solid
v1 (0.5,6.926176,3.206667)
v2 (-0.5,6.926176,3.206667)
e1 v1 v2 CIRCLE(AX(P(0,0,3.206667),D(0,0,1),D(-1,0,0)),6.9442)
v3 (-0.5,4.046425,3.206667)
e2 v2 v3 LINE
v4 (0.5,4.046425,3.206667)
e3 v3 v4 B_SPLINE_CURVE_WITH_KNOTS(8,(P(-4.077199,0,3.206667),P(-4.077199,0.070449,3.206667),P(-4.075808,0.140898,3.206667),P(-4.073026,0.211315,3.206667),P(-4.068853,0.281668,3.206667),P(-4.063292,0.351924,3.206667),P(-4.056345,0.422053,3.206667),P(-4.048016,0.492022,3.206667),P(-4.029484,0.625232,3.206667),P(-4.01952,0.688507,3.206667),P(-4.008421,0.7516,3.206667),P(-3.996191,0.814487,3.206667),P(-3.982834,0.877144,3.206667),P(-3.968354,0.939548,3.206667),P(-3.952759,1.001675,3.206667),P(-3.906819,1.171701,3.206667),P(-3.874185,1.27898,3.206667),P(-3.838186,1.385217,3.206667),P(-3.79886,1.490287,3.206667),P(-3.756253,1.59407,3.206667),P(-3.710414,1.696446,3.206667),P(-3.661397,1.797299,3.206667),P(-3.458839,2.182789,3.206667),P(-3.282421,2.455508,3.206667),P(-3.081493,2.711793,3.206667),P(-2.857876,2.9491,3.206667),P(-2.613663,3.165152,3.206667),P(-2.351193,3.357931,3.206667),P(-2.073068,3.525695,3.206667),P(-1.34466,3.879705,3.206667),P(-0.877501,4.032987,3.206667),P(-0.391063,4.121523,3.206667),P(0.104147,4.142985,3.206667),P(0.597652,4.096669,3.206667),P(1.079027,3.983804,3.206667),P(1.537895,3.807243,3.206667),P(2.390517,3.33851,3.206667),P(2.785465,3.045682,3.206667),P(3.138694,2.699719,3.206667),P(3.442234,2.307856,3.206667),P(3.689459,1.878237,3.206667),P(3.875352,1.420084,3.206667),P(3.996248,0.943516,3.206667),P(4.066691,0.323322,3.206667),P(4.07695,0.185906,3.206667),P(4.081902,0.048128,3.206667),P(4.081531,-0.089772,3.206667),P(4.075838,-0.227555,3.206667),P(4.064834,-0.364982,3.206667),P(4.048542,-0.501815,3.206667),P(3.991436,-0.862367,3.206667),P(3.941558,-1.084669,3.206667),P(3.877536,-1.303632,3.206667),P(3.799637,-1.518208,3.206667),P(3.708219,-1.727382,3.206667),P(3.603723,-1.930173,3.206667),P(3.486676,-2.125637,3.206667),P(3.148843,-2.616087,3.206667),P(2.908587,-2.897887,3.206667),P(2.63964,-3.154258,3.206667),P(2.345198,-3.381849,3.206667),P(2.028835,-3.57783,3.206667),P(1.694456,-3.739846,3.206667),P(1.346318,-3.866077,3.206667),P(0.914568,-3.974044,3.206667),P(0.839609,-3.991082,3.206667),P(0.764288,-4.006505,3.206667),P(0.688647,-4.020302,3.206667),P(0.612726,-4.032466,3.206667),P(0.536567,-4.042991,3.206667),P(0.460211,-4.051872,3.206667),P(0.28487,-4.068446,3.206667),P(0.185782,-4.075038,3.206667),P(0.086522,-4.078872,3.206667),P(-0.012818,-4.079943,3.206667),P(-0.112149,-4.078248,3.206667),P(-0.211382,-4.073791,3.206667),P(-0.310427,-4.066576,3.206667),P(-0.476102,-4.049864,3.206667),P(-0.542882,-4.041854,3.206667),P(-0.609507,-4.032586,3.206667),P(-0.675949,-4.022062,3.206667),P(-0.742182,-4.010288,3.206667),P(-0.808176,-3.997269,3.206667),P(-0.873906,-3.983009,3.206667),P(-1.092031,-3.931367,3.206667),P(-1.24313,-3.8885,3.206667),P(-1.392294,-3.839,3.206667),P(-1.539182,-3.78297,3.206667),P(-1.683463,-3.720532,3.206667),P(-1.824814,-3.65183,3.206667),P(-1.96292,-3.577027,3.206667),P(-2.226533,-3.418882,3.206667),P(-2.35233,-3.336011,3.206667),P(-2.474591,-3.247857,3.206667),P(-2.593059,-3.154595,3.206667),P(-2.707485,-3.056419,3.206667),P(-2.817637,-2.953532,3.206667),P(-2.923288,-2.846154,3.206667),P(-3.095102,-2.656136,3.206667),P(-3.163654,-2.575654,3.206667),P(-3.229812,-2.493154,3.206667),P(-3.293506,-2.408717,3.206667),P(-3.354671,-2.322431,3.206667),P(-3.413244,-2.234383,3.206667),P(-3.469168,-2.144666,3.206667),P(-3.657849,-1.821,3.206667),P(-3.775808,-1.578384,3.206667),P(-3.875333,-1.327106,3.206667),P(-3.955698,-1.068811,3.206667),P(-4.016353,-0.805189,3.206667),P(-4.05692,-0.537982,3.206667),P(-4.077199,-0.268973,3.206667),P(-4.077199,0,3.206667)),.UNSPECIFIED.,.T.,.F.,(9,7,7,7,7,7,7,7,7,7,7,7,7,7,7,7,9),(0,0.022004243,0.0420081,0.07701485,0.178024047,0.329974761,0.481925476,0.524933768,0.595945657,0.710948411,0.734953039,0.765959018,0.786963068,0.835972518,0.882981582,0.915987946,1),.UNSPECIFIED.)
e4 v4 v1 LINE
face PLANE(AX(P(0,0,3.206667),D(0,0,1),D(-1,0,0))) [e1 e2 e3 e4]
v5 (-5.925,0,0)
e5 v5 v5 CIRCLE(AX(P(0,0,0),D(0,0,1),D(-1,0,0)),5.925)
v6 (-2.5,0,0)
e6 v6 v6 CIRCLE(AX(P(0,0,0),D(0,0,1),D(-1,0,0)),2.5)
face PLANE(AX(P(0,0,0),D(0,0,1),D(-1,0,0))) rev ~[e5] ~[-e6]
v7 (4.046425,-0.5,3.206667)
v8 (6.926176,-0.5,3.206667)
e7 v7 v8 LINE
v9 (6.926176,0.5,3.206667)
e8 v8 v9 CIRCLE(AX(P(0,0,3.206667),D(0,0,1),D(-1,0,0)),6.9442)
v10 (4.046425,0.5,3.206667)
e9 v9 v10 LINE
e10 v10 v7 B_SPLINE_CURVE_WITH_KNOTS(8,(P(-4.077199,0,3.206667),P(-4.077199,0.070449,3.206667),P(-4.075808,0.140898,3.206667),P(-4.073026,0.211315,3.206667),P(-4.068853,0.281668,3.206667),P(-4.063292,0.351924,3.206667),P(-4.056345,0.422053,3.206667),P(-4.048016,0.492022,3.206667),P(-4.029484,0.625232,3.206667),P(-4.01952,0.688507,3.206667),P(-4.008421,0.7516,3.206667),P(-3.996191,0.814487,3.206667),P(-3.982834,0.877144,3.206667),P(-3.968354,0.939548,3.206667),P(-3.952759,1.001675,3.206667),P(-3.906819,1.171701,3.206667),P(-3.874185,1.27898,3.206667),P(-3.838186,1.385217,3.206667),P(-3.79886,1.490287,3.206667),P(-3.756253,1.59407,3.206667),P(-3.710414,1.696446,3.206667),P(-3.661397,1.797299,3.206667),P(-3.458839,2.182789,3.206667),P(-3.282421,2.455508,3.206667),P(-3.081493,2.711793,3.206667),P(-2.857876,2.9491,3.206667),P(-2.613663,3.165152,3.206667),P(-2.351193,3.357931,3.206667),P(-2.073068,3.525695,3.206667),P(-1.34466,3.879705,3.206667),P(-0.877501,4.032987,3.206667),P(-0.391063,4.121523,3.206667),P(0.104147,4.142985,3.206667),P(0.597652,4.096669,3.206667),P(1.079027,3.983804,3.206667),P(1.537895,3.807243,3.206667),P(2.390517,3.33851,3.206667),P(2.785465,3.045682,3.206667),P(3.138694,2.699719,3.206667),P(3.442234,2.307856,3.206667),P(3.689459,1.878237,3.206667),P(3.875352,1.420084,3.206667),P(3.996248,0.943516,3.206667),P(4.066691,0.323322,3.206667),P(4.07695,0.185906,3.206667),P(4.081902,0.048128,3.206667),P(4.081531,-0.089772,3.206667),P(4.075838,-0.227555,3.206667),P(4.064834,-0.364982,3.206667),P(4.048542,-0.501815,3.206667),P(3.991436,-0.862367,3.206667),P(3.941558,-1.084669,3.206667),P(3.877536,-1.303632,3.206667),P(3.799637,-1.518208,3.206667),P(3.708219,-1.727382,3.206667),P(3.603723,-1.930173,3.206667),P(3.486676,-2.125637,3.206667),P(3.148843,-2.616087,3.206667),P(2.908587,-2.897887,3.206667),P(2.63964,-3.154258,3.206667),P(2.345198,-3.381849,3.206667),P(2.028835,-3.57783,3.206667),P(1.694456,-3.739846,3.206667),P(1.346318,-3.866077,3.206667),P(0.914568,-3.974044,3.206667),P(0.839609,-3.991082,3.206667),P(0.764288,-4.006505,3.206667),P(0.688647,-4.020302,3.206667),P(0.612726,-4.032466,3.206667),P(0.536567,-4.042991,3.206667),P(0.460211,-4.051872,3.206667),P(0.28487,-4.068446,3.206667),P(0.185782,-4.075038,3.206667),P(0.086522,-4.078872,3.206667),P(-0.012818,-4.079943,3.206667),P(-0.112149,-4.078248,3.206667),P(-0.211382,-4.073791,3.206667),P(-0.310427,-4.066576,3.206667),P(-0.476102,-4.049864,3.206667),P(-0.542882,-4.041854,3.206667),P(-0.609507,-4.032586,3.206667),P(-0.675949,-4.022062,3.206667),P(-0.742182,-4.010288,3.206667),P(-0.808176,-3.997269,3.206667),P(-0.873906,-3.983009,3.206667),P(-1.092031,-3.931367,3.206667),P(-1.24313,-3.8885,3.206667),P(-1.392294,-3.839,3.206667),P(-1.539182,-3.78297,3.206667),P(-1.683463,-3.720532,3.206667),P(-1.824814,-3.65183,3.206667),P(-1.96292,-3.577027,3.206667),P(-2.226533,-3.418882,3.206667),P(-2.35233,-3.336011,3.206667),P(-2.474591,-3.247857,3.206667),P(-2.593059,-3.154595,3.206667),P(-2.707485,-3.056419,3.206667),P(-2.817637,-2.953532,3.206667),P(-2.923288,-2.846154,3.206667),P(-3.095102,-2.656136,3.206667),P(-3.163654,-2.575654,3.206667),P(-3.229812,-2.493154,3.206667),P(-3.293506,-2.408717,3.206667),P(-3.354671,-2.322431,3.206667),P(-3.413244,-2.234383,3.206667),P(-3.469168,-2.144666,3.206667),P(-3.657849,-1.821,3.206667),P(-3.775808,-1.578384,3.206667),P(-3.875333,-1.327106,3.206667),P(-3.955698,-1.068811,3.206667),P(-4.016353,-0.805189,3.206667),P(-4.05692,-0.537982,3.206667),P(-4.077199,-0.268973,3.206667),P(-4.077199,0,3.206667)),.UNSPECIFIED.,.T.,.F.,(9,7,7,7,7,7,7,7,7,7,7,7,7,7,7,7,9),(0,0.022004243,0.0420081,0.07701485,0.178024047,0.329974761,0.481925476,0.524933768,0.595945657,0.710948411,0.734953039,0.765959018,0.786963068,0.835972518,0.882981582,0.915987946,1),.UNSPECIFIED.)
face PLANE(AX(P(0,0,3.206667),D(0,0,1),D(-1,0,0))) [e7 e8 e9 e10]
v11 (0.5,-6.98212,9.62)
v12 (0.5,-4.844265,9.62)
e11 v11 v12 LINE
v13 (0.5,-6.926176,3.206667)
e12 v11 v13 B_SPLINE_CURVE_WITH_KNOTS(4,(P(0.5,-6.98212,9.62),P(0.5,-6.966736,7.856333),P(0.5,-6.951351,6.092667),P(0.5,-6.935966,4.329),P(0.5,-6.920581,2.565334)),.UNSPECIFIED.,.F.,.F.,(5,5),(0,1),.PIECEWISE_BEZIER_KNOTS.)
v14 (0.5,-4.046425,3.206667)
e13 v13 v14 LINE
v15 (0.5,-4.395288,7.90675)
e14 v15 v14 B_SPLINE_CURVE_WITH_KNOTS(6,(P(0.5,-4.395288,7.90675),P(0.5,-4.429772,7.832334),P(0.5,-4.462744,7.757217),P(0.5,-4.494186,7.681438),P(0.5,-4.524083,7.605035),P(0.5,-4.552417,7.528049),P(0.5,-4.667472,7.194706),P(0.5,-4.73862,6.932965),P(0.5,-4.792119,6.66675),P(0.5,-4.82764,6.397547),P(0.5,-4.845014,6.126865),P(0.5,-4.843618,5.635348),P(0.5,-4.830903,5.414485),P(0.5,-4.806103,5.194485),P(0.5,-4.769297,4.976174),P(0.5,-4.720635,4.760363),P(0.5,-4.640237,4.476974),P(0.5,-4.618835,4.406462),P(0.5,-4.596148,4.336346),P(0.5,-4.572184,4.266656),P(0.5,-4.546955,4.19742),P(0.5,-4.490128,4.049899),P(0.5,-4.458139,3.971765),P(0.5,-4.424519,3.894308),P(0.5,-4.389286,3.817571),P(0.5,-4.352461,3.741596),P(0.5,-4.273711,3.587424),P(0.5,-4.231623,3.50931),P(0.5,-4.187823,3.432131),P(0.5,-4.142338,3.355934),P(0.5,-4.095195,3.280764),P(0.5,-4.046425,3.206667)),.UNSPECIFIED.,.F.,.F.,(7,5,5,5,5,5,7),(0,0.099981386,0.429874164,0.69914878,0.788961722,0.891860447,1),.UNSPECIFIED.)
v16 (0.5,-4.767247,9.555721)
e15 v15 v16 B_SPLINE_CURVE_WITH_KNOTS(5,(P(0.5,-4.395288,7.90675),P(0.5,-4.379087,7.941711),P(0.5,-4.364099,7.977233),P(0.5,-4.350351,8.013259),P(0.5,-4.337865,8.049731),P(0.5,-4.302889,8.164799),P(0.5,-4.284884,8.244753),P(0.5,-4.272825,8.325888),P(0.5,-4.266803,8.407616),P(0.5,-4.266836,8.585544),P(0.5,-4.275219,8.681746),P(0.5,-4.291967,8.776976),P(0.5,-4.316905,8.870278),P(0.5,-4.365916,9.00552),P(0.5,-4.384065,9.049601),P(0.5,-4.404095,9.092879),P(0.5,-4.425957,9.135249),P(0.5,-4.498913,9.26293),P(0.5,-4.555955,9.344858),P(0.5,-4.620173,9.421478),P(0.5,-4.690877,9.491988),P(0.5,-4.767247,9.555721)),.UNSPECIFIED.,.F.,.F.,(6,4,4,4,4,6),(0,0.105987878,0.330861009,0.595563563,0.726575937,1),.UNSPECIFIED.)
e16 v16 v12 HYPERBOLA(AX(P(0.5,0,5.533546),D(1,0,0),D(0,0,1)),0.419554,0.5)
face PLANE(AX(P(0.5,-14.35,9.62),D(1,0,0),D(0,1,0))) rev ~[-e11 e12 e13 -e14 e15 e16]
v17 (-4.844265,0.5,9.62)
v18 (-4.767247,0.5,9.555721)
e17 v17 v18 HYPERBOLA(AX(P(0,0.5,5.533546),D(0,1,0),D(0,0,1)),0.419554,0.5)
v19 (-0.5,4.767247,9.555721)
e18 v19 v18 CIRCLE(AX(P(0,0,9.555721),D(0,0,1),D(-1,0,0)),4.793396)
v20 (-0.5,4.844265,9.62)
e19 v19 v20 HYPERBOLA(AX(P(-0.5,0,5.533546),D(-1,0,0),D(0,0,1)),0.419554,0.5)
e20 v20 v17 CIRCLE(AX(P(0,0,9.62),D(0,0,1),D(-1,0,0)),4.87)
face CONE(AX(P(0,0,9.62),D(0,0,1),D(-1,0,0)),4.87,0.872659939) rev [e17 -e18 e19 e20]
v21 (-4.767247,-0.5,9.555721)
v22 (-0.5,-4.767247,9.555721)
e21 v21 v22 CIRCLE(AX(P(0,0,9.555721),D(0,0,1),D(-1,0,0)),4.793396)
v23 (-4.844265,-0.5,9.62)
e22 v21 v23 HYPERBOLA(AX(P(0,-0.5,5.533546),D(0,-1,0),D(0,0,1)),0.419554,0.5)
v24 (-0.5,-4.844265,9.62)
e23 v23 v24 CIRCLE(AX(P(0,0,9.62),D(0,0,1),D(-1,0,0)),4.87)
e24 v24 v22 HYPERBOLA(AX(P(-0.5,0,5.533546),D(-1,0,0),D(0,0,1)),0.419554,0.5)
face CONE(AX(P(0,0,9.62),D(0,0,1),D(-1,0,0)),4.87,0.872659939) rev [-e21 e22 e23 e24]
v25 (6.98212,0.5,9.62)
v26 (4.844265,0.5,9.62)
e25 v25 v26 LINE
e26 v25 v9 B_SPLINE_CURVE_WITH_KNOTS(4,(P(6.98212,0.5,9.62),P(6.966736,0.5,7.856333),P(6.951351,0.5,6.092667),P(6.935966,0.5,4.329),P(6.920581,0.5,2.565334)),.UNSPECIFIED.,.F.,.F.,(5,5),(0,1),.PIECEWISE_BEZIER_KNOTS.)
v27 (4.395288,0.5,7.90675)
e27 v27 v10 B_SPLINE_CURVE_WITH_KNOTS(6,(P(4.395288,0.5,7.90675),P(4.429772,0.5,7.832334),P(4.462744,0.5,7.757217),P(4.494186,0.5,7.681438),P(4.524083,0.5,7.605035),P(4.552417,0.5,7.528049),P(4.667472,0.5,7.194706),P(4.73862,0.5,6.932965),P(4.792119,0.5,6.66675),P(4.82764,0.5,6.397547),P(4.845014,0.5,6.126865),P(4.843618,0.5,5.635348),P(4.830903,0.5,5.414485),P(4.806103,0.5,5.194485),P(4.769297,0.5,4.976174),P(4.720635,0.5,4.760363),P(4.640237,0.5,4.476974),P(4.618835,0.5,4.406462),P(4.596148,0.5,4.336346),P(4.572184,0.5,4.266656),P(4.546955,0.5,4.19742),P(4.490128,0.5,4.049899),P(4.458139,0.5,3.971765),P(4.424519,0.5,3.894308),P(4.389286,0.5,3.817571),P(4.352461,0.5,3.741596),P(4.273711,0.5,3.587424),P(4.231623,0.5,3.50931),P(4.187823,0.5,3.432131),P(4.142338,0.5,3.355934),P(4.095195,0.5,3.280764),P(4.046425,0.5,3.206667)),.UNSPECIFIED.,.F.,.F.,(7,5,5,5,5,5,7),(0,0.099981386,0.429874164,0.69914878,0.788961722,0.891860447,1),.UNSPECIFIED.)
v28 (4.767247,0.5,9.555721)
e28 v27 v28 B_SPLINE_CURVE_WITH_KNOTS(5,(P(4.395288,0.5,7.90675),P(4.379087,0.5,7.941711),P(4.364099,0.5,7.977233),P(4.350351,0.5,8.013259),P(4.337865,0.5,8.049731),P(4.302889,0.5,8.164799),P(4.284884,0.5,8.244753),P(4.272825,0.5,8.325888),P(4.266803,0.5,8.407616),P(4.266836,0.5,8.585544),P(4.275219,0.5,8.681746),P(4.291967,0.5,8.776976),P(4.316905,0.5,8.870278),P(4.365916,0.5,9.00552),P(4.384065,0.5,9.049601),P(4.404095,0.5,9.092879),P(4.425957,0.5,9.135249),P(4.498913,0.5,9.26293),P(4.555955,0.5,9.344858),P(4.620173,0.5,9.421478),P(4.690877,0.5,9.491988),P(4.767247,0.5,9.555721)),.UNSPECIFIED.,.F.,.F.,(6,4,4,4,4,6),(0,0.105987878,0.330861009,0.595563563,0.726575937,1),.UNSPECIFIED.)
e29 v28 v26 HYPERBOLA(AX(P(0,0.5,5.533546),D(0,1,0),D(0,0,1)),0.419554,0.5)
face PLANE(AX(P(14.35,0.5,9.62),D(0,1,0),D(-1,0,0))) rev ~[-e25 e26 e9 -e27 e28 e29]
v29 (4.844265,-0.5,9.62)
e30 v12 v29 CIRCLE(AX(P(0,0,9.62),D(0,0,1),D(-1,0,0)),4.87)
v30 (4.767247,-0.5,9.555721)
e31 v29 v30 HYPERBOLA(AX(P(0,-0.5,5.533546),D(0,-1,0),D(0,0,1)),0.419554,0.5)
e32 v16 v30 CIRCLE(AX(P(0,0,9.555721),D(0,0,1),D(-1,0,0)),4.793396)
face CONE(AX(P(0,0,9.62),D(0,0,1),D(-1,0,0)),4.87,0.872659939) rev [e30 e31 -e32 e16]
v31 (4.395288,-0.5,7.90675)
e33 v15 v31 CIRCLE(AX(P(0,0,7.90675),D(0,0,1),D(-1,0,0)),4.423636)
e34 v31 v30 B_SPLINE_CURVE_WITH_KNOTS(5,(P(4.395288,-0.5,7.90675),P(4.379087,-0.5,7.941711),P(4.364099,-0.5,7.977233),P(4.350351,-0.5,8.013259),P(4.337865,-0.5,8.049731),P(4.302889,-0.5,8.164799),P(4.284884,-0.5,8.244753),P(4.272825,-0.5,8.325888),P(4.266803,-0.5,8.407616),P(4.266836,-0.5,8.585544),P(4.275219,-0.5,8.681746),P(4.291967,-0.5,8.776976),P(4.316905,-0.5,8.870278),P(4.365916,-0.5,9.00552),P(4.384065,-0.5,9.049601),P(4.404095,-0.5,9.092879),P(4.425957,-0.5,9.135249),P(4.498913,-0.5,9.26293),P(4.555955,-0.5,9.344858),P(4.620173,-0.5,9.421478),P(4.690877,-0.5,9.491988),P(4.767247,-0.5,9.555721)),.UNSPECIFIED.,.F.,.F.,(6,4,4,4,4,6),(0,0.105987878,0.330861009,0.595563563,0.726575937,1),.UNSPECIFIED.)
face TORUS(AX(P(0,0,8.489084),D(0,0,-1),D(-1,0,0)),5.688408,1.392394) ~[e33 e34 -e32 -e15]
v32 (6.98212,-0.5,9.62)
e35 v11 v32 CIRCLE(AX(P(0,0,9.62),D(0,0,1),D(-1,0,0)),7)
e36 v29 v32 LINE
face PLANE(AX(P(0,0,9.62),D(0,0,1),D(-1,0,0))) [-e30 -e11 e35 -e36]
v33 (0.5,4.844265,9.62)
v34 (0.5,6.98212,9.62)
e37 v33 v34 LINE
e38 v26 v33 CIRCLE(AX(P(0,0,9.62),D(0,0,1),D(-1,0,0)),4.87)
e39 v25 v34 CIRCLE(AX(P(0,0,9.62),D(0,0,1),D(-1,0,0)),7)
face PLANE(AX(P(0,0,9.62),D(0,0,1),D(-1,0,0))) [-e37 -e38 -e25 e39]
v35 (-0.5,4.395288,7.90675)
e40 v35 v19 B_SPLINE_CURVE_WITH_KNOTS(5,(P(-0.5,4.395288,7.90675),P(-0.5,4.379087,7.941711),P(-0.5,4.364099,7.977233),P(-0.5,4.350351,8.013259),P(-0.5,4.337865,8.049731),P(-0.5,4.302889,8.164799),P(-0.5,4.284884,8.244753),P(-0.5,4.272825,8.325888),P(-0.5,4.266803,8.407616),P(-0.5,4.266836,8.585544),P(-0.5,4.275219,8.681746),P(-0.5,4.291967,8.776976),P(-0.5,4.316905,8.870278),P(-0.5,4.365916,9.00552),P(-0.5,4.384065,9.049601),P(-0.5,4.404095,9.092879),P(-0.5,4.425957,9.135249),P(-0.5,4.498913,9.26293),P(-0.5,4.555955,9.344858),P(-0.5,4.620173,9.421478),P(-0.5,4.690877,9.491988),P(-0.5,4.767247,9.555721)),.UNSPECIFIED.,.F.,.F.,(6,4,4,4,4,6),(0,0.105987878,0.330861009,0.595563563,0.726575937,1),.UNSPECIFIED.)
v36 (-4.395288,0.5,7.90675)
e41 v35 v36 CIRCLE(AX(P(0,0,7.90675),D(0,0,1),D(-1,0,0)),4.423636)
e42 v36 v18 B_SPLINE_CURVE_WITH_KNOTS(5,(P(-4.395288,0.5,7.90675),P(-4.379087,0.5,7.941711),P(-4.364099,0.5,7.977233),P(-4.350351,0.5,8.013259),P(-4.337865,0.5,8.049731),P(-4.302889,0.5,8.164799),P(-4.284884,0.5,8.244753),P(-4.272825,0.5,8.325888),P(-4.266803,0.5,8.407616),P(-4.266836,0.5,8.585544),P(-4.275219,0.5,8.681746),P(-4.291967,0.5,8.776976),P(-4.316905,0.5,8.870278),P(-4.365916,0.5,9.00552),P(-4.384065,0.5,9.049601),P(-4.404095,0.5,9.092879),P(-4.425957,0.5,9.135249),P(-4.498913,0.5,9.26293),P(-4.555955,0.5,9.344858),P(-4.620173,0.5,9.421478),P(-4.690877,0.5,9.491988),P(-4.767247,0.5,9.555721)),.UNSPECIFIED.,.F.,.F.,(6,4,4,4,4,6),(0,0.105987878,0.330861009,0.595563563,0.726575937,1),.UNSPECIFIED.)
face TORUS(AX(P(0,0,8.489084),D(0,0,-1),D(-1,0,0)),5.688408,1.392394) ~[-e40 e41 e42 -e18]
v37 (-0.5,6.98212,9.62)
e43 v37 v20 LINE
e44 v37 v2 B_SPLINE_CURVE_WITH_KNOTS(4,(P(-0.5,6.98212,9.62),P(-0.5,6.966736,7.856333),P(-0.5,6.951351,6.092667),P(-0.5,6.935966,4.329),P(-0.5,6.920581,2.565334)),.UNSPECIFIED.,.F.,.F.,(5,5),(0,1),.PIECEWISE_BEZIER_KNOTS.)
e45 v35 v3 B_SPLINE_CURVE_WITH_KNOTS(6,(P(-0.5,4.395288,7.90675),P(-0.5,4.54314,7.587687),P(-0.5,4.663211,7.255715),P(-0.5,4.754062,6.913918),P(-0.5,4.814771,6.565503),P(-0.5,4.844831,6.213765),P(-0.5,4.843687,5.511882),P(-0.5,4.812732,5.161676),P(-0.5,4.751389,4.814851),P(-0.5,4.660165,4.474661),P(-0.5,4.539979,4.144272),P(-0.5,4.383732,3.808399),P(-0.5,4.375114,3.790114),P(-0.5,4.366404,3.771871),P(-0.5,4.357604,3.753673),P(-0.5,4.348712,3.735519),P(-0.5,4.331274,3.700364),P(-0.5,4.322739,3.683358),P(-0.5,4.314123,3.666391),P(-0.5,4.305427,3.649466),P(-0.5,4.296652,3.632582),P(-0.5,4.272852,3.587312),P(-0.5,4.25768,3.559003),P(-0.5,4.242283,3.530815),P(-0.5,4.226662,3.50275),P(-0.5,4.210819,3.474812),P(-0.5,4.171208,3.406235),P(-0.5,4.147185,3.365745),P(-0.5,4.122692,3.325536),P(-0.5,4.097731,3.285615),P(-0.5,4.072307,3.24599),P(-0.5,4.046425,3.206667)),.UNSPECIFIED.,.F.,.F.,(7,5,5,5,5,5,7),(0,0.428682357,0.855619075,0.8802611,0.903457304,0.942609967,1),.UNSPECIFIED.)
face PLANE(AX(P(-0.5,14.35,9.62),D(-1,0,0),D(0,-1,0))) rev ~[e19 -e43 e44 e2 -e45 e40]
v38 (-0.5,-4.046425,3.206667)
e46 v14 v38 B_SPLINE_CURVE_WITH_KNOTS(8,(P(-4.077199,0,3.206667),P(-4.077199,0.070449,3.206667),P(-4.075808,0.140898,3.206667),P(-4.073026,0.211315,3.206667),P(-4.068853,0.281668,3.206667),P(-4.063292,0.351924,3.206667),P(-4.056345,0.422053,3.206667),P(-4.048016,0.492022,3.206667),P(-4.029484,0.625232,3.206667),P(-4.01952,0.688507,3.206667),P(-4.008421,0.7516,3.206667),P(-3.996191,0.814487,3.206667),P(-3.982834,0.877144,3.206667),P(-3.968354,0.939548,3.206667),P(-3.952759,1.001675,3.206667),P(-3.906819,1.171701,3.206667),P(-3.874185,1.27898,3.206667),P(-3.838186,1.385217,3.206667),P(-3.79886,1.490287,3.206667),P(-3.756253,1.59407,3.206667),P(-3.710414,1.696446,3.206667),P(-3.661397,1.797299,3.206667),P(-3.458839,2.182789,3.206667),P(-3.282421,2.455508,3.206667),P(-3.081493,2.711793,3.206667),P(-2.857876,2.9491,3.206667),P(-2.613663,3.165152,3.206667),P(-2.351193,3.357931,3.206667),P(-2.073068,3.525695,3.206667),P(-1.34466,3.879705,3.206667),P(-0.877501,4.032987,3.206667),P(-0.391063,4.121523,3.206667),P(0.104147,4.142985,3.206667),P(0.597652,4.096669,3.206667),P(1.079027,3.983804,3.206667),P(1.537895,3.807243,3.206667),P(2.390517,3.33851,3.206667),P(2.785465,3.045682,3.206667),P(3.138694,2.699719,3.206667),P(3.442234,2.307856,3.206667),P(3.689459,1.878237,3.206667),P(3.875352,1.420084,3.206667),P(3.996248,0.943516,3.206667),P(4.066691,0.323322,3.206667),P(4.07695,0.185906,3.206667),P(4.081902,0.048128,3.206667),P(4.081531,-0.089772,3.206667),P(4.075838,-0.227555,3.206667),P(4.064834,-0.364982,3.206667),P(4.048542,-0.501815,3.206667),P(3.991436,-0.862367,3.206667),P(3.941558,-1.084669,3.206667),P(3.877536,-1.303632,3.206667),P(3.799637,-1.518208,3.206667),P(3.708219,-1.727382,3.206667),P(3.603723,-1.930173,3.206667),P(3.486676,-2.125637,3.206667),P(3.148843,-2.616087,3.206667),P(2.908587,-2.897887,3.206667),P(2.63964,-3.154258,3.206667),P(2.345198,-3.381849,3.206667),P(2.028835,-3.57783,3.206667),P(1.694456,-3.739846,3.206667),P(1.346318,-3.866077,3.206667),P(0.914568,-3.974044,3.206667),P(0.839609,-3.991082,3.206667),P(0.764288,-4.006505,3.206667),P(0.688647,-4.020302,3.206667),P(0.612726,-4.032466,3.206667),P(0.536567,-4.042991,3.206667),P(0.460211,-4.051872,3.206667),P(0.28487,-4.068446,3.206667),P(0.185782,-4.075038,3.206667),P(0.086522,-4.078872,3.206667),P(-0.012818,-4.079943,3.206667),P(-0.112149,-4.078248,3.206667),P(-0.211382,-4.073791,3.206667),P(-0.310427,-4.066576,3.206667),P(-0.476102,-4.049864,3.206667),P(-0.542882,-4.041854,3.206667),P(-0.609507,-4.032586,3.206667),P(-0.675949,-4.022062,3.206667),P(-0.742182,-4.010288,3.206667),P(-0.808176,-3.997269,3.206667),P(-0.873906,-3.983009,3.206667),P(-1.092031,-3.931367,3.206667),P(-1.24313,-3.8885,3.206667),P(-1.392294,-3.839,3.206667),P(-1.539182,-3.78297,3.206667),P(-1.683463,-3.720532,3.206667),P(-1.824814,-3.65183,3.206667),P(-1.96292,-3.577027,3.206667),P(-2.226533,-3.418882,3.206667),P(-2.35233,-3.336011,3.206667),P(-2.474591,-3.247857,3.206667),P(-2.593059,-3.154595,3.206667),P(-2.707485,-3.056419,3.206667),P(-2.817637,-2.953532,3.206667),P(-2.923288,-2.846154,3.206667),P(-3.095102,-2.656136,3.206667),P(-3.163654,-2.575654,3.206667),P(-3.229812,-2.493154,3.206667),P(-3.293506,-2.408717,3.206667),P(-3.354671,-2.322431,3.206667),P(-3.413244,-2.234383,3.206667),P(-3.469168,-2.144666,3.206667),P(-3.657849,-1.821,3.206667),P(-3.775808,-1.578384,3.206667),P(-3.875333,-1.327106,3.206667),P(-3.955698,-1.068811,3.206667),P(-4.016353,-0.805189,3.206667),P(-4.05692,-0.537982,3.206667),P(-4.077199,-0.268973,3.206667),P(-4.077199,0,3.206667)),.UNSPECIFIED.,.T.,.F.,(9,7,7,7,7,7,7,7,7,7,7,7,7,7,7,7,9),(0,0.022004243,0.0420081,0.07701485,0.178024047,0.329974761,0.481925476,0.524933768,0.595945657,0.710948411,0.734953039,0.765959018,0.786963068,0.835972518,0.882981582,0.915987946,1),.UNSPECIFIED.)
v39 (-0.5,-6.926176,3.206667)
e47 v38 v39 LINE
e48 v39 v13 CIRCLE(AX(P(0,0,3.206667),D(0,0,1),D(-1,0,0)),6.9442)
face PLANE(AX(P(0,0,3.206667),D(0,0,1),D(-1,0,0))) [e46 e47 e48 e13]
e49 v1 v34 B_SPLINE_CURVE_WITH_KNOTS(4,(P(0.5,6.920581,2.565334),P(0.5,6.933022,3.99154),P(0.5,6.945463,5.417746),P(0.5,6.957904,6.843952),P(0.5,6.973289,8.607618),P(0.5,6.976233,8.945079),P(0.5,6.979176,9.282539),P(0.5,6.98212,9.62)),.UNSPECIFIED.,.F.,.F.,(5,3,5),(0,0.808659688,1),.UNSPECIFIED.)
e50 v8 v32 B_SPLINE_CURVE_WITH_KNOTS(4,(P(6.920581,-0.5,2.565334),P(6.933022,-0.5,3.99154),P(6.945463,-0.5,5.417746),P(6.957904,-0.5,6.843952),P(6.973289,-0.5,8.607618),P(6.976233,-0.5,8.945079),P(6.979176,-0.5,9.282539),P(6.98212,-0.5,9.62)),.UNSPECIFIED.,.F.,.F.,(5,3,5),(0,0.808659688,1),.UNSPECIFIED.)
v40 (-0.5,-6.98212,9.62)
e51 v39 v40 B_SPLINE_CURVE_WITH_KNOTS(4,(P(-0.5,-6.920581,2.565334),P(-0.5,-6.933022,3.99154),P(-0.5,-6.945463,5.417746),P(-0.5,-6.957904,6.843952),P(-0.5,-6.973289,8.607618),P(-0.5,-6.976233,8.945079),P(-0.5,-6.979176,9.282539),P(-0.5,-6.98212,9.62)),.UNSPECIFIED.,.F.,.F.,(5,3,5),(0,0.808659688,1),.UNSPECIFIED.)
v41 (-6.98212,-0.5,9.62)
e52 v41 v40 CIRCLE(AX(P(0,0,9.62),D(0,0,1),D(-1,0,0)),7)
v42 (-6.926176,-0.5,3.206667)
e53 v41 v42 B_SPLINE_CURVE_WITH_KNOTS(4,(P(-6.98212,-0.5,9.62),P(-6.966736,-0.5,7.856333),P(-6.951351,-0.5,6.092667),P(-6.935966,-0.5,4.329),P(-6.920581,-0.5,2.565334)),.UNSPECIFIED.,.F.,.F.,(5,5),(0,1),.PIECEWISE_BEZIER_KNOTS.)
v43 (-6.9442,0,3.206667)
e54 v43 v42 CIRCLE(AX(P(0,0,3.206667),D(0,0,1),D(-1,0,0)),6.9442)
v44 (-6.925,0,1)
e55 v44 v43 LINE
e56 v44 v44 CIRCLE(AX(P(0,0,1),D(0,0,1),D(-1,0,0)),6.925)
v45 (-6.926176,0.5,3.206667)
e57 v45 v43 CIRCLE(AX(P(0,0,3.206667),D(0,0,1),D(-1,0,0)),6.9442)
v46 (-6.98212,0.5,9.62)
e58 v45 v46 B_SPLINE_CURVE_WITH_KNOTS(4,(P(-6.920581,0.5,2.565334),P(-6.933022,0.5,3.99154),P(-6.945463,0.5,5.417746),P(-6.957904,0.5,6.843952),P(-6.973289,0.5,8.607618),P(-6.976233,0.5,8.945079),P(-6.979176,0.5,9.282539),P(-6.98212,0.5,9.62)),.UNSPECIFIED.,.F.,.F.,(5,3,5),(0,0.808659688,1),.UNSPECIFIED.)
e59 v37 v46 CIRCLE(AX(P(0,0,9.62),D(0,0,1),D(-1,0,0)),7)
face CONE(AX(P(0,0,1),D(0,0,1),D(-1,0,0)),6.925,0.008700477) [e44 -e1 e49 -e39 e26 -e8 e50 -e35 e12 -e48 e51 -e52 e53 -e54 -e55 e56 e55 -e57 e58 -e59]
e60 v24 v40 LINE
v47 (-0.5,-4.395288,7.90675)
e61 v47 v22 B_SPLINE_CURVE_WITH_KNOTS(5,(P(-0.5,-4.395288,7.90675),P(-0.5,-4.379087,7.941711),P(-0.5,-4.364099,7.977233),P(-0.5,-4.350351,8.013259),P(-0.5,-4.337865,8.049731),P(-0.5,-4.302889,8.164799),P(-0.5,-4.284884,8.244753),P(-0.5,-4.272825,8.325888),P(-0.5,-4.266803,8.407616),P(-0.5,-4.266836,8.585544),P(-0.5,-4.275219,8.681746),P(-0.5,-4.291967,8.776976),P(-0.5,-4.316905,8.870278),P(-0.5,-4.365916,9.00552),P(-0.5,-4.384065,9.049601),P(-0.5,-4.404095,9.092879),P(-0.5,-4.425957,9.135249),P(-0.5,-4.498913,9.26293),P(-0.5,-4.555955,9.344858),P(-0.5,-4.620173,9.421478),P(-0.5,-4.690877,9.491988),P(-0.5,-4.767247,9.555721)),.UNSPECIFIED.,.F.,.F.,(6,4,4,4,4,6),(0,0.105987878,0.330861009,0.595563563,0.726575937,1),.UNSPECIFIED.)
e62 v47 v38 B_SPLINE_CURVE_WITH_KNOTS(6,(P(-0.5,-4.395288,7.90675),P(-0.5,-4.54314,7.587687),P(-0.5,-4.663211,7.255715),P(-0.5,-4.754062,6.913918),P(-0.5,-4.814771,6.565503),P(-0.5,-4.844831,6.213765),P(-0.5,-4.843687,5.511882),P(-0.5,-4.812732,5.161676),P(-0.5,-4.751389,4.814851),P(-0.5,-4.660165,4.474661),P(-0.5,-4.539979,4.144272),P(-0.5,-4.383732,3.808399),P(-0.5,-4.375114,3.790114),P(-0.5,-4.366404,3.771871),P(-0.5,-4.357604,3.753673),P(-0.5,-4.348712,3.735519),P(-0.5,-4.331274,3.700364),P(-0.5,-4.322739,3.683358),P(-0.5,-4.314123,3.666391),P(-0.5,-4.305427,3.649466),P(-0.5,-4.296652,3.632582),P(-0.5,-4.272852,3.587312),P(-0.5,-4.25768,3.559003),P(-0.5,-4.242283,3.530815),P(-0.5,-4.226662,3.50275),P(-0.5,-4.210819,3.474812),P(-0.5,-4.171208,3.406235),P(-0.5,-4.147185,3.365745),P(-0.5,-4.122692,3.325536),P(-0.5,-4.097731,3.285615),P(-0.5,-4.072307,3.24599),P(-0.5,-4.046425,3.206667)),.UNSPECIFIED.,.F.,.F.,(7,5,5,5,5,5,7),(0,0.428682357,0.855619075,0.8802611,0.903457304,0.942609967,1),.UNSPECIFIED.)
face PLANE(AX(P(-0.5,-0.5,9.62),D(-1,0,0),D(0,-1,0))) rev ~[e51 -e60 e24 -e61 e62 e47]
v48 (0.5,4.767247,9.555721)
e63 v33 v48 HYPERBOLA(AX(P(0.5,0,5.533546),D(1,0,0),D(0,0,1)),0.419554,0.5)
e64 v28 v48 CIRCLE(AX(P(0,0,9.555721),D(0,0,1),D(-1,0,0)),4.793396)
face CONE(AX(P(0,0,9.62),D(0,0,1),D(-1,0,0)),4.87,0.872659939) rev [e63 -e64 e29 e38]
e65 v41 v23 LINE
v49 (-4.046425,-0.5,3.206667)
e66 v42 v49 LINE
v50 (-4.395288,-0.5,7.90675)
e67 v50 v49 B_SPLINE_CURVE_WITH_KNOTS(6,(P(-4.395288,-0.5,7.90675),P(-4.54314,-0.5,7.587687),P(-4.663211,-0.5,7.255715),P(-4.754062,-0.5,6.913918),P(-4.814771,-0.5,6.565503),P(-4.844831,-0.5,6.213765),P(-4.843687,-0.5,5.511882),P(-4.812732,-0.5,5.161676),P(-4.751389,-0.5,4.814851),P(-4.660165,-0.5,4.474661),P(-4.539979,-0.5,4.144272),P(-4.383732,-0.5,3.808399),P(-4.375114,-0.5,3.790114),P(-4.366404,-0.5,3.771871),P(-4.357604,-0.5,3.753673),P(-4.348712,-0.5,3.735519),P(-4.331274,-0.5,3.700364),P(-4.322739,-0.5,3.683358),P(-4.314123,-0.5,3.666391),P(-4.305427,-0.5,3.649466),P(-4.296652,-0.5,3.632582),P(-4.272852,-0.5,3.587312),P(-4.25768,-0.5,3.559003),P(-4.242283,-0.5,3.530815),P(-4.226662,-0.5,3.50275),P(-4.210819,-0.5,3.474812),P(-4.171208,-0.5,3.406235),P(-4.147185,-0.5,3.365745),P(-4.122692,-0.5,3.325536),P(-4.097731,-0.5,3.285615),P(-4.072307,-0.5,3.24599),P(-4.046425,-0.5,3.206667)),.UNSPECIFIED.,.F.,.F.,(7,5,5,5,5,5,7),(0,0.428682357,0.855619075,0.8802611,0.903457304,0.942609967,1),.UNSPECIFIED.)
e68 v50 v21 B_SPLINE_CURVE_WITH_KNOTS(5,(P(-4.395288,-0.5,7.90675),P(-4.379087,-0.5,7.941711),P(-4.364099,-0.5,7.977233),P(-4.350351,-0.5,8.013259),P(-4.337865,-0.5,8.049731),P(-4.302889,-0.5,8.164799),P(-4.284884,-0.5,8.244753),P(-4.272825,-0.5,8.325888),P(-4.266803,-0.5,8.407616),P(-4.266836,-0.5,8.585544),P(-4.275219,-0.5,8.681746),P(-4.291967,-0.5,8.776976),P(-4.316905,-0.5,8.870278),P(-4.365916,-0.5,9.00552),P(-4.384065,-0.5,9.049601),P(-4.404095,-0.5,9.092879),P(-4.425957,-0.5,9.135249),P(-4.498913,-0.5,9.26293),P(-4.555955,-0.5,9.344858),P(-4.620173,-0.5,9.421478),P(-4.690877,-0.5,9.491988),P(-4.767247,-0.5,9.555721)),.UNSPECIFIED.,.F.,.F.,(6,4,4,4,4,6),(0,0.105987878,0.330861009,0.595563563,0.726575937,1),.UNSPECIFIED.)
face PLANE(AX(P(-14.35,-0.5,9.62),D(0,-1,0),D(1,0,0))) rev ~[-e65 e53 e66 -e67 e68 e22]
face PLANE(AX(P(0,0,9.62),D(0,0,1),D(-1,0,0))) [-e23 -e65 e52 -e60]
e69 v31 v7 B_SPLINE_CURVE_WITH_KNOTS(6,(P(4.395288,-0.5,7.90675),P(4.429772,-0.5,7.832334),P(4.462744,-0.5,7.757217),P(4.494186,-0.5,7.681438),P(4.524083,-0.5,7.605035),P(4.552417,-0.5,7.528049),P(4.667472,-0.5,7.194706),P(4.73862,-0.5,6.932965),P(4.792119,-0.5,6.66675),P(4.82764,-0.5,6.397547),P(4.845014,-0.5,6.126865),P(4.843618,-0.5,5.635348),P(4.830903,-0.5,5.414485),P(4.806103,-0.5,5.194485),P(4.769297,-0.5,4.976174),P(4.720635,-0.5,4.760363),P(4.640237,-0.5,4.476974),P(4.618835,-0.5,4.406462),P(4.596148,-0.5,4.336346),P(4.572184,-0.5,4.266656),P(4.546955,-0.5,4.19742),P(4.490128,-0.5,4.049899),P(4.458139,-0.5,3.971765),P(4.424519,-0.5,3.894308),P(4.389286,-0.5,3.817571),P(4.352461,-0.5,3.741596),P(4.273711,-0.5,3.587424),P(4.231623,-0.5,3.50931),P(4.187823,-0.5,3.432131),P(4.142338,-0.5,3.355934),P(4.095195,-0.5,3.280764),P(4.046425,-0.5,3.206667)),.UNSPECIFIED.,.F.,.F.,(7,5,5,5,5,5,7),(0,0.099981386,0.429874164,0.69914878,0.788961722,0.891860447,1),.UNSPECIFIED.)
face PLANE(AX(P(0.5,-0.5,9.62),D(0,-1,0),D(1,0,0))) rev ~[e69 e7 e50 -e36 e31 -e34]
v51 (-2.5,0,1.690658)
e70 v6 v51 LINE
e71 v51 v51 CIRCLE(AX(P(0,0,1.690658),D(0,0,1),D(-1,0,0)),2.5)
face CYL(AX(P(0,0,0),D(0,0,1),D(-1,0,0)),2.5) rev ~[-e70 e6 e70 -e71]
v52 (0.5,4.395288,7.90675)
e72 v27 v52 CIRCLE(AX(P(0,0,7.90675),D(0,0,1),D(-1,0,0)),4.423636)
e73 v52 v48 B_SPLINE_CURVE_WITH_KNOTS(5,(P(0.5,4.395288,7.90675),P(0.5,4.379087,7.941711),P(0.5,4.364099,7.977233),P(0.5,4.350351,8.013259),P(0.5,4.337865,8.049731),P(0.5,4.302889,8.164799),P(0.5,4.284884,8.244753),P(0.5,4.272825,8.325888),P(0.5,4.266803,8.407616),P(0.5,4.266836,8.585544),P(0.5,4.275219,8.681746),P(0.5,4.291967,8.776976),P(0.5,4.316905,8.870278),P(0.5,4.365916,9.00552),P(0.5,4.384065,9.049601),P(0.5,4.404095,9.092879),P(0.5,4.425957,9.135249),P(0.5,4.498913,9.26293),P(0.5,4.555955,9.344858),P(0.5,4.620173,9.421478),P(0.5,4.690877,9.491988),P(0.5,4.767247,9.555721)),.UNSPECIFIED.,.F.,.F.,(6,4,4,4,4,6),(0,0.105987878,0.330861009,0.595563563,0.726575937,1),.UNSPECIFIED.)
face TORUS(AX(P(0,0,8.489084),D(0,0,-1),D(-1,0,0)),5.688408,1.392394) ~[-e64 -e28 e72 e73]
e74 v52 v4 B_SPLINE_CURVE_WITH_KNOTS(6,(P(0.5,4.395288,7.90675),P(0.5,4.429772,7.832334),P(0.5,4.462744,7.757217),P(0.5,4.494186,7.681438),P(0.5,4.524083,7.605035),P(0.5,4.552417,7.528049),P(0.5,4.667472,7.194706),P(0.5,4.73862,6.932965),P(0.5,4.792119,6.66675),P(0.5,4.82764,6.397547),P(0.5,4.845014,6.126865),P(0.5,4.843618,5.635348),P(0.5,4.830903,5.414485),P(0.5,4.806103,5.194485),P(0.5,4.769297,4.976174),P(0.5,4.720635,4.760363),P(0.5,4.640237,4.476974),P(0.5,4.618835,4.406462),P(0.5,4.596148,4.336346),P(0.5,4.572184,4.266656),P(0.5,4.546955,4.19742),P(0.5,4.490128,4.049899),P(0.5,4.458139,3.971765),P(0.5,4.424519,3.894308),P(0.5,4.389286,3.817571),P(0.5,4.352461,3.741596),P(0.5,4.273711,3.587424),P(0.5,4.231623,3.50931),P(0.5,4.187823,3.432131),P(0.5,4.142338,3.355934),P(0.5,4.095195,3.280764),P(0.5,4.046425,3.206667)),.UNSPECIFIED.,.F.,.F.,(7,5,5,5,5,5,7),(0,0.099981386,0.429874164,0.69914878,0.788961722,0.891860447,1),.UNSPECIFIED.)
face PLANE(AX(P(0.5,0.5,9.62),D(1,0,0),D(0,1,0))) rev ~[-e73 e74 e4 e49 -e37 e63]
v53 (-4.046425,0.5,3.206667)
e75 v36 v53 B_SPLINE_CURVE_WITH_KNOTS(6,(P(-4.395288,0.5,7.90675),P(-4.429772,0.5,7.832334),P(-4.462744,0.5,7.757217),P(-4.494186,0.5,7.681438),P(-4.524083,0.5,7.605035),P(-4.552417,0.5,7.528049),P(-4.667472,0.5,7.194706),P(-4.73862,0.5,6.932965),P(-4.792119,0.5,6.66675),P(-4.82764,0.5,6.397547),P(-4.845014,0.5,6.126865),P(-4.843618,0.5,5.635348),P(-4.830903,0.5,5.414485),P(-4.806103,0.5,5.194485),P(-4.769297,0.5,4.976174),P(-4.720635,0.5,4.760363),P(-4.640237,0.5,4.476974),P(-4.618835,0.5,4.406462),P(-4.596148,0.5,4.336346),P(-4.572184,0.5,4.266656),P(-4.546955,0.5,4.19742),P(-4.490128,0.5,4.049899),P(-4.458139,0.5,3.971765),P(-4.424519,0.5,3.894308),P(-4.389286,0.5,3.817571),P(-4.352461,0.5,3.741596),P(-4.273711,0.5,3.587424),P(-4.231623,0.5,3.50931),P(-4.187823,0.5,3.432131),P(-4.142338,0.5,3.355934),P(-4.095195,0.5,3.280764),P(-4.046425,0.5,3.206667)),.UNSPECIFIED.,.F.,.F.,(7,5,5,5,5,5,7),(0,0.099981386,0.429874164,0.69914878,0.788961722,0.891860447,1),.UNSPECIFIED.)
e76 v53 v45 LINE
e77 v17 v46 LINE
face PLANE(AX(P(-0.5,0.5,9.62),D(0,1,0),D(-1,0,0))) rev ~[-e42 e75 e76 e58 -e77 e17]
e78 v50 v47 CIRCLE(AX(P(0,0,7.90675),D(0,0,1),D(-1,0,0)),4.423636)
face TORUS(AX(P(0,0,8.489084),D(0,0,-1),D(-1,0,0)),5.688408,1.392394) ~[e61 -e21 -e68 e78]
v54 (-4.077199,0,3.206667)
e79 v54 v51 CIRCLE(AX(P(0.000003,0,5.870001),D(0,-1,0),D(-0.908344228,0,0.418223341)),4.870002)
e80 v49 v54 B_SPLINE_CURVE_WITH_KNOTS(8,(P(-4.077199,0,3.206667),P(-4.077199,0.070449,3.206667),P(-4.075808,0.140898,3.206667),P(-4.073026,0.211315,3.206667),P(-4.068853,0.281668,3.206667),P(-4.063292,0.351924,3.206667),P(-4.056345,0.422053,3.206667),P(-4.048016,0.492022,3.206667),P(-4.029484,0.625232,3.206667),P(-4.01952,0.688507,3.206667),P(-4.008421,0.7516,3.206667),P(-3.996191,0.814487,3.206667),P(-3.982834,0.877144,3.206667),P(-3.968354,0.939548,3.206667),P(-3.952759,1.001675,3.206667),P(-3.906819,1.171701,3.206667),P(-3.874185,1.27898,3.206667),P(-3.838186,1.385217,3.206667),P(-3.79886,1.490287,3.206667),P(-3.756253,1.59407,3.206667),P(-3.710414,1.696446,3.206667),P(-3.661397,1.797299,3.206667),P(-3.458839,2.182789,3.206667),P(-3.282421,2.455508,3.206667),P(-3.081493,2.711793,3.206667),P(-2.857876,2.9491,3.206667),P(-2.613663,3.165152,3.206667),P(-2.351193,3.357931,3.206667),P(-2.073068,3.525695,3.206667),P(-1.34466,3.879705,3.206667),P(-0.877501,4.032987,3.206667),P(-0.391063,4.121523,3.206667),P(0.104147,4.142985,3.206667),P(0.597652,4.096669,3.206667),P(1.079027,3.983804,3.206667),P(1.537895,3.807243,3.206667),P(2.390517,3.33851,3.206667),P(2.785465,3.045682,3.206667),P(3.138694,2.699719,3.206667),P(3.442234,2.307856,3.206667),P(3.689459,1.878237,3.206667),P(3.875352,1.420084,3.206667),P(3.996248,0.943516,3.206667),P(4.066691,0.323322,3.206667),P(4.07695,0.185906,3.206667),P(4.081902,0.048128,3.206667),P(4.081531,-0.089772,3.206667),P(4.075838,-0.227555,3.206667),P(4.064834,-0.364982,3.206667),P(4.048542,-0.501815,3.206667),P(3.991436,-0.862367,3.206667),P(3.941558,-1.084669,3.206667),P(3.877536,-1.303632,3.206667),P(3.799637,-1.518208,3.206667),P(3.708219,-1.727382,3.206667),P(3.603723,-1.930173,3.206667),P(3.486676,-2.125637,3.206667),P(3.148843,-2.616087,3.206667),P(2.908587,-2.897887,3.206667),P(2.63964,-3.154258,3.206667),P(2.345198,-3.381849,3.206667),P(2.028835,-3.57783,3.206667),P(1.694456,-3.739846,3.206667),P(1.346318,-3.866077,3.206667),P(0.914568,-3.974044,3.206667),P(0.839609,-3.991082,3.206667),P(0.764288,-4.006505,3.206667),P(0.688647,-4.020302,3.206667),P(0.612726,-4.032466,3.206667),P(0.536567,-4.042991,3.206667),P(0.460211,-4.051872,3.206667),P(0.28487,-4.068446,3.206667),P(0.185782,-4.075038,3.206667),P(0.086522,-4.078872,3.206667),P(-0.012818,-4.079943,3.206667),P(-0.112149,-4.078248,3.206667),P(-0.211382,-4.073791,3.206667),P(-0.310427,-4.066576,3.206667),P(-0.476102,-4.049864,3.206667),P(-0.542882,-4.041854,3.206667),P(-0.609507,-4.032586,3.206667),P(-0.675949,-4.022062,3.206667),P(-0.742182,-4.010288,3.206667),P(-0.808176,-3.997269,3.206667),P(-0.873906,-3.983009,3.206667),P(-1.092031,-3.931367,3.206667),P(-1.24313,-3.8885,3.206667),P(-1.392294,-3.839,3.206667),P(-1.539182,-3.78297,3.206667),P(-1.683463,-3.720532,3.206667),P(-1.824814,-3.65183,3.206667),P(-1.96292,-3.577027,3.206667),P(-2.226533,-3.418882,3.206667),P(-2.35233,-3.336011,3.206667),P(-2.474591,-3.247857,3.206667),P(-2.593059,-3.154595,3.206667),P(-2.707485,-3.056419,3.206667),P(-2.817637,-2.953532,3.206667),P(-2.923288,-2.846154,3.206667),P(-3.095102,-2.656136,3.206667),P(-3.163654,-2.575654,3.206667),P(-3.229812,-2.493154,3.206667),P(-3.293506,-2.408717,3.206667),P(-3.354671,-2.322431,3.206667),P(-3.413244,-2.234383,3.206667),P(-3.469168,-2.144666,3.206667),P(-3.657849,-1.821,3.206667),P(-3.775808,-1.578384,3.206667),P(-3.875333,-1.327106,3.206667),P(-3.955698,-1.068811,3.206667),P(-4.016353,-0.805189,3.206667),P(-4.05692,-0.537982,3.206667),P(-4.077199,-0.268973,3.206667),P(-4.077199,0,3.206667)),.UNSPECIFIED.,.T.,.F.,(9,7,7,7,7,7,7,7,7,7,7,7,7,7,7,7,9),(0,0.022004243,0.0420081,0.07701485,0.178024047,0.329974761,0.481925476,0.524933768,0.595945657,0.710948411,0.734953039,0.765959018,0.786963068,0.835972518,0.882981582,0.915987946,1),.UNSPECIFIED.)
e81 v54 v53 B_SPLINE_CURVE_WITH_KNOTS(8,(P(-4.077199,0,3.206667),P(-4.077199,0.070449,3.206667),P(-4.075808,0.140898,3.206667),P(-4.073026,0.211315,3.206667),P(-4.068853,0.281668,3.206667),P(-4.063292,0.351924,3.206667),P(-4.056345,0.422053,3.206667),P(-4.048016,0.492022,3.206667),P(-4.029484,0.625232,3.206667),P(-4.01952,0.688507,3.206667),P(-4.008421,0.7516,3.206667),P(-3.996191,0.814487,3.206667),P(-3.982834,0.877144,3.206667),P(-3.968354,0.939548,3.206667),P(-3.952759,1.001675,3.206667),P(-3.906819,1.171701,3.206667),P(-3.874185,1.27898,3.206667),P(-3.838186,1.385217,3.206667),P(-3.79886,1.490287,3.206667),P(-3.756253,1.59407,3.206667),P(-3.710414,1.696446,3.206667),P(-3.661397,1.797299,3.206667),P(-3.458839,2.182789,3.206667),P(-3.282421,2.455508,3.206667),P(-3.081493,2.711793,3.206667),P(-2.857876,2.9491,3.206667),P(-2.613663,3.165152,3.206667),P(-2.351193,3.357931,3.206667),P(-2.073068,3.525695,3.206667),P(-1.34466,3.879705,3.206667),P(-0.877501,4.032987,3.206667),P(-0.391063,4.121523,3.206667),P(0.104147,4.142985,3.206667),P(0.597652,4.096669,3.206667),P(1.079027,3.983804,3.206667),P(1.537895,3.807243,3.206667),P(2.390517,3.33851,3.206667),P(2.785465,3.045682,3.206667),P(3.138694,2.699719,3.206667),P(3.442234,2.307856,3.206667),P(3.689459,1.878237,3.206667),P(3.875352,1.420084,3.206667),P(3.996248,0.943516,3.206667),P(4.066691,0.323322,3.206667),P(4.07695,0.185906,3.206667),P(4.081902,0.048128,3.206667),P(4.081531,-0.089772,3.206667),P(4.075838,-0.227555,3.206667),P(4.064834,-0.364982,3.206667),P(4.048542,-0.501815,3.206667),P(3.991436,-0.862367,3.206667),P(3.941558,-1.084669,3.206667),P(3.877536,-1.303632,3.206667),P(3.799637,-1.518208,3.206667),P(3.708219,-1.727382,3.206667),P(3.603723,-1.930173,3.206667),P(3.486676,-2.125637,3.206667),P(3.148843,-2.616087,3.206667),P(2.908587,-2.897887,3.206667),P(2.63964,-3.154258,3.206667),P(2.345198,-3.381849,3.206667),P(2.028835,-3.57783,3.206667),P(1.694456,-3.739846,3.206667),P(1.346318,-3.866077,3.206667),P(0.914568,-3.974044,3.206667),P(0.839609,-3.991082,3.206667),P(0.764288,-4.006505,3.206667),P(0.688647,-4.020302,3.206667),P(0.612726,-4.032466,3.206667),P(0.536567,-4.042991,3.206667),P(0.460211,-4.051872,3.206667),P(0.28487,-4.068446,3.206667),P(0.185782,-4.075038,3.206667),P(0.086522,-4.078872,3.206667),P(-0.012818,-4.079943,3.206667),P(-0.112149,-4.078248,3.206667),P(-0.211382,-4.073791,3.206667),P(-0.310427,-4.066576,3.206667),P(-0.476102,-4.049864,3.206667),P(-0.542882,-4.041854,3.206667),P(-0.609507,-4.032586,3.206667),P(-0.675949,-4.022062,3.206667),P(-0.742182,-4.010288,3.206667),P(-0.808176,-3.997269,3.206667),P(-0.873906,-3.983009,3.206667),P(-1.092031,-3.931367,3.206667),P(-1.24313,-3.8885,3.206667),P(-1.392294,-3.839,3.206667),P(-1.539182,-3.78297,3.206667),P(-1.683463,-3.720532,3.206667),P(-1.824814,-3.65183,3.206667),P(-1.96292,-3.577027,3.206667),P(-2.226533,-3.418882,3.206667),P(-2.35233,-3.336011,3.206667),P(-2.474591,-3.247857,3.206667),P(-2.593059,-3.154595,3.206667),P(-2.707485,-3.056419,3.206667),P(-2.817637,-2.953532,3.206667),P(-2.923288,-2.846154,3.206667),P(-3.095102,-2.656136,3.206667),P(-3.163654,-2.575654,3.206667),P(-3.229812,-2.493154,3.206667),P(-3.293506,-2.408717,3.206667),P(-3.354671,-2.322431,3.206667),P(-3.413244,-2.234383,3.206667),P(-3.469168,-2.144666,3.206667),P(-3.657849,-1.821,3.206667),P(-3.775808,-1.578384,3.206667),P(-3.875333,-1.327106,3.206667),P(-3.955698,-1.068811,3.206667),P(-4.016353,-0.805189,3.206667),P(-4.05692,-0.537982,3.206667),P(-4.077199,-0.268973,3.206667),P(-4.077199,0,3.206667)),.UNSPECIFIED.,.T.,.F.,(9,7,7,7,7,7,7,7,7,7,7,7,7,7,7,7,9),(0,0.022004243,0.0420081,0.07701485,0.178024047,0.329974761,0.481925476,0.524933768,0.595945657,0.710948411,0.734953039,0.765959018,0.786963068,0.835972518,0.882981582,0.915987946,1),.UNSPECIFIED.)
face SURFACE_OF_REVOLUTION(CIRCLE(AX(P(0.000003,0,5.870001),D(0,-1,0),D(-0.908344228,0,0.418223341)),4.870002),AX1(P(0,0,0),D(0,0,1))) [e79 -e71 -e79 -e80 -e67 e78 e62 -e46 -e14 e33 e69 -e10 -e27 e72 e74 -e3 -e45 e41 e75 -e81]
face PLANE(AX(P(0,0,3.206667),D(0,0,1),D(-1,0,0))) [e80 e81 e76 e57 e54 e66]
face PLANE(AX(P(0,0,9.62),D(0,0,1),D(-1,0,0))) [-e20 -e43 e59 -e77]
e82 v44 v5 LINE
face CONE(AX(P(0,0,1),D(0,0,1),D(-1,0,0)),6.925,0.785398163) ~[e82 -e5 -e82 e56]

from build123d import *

# Parameters (mm, degrees)
POCKET_DEPTH = 6.413333


with BuildPart() as part:
    # Sketch001 → Revolution (revolve)
    with BuildSketch(Plane.XZ):
        with BuildLine():
            ThreePointArc((-4.423636, 7.90675), (-4.652325, 4.430289), (-2.5, 1.690658))
            Line((-2.5, 0), (-2.5, 1.690658))
            Line((-5.925, 0), (-2.5, 0))
            Line((-6.925, 1), (-5.925, 0))
            Line((-6.925, 1), (-7, 9.62))
            Line((-7, 9.62), (-4.87, 9.62))
            Line((-4.87, 9.62), (-4.793396, 9.555721))
            ThreePointArc((-4.423636, 7.90675), (-4.329753, 8.793744), (-4.793396, 9.555721))
        make_face()
    revolve(axis=Axis((0, 0, 0), (0, 0, 1)))

    # Sketch (on Face6 of Revolution) → Pocket (cut)
    with BuildSketch(Plane(origin=(0, 0, 9.62), x_dir=(-1, 0, 0), z_dir=(0, 0, 1))):
        Polygon((-0.5, 14.35), (-0.5, 0.5), (-14.35, 0.5), (-14.35, -0.5), (-0.5, -0.5), (-0.5, -14.35), (0.5, -14.35), (0.5, -0.5), (14.35, -0.5), (14.35, 0.5), (0.5, 0.5), (0.5, 14.35), align=None)
    extrude(amount=-POCKET_DEPTH, mode=Mode.SUBTRACT)


solid = part.part
